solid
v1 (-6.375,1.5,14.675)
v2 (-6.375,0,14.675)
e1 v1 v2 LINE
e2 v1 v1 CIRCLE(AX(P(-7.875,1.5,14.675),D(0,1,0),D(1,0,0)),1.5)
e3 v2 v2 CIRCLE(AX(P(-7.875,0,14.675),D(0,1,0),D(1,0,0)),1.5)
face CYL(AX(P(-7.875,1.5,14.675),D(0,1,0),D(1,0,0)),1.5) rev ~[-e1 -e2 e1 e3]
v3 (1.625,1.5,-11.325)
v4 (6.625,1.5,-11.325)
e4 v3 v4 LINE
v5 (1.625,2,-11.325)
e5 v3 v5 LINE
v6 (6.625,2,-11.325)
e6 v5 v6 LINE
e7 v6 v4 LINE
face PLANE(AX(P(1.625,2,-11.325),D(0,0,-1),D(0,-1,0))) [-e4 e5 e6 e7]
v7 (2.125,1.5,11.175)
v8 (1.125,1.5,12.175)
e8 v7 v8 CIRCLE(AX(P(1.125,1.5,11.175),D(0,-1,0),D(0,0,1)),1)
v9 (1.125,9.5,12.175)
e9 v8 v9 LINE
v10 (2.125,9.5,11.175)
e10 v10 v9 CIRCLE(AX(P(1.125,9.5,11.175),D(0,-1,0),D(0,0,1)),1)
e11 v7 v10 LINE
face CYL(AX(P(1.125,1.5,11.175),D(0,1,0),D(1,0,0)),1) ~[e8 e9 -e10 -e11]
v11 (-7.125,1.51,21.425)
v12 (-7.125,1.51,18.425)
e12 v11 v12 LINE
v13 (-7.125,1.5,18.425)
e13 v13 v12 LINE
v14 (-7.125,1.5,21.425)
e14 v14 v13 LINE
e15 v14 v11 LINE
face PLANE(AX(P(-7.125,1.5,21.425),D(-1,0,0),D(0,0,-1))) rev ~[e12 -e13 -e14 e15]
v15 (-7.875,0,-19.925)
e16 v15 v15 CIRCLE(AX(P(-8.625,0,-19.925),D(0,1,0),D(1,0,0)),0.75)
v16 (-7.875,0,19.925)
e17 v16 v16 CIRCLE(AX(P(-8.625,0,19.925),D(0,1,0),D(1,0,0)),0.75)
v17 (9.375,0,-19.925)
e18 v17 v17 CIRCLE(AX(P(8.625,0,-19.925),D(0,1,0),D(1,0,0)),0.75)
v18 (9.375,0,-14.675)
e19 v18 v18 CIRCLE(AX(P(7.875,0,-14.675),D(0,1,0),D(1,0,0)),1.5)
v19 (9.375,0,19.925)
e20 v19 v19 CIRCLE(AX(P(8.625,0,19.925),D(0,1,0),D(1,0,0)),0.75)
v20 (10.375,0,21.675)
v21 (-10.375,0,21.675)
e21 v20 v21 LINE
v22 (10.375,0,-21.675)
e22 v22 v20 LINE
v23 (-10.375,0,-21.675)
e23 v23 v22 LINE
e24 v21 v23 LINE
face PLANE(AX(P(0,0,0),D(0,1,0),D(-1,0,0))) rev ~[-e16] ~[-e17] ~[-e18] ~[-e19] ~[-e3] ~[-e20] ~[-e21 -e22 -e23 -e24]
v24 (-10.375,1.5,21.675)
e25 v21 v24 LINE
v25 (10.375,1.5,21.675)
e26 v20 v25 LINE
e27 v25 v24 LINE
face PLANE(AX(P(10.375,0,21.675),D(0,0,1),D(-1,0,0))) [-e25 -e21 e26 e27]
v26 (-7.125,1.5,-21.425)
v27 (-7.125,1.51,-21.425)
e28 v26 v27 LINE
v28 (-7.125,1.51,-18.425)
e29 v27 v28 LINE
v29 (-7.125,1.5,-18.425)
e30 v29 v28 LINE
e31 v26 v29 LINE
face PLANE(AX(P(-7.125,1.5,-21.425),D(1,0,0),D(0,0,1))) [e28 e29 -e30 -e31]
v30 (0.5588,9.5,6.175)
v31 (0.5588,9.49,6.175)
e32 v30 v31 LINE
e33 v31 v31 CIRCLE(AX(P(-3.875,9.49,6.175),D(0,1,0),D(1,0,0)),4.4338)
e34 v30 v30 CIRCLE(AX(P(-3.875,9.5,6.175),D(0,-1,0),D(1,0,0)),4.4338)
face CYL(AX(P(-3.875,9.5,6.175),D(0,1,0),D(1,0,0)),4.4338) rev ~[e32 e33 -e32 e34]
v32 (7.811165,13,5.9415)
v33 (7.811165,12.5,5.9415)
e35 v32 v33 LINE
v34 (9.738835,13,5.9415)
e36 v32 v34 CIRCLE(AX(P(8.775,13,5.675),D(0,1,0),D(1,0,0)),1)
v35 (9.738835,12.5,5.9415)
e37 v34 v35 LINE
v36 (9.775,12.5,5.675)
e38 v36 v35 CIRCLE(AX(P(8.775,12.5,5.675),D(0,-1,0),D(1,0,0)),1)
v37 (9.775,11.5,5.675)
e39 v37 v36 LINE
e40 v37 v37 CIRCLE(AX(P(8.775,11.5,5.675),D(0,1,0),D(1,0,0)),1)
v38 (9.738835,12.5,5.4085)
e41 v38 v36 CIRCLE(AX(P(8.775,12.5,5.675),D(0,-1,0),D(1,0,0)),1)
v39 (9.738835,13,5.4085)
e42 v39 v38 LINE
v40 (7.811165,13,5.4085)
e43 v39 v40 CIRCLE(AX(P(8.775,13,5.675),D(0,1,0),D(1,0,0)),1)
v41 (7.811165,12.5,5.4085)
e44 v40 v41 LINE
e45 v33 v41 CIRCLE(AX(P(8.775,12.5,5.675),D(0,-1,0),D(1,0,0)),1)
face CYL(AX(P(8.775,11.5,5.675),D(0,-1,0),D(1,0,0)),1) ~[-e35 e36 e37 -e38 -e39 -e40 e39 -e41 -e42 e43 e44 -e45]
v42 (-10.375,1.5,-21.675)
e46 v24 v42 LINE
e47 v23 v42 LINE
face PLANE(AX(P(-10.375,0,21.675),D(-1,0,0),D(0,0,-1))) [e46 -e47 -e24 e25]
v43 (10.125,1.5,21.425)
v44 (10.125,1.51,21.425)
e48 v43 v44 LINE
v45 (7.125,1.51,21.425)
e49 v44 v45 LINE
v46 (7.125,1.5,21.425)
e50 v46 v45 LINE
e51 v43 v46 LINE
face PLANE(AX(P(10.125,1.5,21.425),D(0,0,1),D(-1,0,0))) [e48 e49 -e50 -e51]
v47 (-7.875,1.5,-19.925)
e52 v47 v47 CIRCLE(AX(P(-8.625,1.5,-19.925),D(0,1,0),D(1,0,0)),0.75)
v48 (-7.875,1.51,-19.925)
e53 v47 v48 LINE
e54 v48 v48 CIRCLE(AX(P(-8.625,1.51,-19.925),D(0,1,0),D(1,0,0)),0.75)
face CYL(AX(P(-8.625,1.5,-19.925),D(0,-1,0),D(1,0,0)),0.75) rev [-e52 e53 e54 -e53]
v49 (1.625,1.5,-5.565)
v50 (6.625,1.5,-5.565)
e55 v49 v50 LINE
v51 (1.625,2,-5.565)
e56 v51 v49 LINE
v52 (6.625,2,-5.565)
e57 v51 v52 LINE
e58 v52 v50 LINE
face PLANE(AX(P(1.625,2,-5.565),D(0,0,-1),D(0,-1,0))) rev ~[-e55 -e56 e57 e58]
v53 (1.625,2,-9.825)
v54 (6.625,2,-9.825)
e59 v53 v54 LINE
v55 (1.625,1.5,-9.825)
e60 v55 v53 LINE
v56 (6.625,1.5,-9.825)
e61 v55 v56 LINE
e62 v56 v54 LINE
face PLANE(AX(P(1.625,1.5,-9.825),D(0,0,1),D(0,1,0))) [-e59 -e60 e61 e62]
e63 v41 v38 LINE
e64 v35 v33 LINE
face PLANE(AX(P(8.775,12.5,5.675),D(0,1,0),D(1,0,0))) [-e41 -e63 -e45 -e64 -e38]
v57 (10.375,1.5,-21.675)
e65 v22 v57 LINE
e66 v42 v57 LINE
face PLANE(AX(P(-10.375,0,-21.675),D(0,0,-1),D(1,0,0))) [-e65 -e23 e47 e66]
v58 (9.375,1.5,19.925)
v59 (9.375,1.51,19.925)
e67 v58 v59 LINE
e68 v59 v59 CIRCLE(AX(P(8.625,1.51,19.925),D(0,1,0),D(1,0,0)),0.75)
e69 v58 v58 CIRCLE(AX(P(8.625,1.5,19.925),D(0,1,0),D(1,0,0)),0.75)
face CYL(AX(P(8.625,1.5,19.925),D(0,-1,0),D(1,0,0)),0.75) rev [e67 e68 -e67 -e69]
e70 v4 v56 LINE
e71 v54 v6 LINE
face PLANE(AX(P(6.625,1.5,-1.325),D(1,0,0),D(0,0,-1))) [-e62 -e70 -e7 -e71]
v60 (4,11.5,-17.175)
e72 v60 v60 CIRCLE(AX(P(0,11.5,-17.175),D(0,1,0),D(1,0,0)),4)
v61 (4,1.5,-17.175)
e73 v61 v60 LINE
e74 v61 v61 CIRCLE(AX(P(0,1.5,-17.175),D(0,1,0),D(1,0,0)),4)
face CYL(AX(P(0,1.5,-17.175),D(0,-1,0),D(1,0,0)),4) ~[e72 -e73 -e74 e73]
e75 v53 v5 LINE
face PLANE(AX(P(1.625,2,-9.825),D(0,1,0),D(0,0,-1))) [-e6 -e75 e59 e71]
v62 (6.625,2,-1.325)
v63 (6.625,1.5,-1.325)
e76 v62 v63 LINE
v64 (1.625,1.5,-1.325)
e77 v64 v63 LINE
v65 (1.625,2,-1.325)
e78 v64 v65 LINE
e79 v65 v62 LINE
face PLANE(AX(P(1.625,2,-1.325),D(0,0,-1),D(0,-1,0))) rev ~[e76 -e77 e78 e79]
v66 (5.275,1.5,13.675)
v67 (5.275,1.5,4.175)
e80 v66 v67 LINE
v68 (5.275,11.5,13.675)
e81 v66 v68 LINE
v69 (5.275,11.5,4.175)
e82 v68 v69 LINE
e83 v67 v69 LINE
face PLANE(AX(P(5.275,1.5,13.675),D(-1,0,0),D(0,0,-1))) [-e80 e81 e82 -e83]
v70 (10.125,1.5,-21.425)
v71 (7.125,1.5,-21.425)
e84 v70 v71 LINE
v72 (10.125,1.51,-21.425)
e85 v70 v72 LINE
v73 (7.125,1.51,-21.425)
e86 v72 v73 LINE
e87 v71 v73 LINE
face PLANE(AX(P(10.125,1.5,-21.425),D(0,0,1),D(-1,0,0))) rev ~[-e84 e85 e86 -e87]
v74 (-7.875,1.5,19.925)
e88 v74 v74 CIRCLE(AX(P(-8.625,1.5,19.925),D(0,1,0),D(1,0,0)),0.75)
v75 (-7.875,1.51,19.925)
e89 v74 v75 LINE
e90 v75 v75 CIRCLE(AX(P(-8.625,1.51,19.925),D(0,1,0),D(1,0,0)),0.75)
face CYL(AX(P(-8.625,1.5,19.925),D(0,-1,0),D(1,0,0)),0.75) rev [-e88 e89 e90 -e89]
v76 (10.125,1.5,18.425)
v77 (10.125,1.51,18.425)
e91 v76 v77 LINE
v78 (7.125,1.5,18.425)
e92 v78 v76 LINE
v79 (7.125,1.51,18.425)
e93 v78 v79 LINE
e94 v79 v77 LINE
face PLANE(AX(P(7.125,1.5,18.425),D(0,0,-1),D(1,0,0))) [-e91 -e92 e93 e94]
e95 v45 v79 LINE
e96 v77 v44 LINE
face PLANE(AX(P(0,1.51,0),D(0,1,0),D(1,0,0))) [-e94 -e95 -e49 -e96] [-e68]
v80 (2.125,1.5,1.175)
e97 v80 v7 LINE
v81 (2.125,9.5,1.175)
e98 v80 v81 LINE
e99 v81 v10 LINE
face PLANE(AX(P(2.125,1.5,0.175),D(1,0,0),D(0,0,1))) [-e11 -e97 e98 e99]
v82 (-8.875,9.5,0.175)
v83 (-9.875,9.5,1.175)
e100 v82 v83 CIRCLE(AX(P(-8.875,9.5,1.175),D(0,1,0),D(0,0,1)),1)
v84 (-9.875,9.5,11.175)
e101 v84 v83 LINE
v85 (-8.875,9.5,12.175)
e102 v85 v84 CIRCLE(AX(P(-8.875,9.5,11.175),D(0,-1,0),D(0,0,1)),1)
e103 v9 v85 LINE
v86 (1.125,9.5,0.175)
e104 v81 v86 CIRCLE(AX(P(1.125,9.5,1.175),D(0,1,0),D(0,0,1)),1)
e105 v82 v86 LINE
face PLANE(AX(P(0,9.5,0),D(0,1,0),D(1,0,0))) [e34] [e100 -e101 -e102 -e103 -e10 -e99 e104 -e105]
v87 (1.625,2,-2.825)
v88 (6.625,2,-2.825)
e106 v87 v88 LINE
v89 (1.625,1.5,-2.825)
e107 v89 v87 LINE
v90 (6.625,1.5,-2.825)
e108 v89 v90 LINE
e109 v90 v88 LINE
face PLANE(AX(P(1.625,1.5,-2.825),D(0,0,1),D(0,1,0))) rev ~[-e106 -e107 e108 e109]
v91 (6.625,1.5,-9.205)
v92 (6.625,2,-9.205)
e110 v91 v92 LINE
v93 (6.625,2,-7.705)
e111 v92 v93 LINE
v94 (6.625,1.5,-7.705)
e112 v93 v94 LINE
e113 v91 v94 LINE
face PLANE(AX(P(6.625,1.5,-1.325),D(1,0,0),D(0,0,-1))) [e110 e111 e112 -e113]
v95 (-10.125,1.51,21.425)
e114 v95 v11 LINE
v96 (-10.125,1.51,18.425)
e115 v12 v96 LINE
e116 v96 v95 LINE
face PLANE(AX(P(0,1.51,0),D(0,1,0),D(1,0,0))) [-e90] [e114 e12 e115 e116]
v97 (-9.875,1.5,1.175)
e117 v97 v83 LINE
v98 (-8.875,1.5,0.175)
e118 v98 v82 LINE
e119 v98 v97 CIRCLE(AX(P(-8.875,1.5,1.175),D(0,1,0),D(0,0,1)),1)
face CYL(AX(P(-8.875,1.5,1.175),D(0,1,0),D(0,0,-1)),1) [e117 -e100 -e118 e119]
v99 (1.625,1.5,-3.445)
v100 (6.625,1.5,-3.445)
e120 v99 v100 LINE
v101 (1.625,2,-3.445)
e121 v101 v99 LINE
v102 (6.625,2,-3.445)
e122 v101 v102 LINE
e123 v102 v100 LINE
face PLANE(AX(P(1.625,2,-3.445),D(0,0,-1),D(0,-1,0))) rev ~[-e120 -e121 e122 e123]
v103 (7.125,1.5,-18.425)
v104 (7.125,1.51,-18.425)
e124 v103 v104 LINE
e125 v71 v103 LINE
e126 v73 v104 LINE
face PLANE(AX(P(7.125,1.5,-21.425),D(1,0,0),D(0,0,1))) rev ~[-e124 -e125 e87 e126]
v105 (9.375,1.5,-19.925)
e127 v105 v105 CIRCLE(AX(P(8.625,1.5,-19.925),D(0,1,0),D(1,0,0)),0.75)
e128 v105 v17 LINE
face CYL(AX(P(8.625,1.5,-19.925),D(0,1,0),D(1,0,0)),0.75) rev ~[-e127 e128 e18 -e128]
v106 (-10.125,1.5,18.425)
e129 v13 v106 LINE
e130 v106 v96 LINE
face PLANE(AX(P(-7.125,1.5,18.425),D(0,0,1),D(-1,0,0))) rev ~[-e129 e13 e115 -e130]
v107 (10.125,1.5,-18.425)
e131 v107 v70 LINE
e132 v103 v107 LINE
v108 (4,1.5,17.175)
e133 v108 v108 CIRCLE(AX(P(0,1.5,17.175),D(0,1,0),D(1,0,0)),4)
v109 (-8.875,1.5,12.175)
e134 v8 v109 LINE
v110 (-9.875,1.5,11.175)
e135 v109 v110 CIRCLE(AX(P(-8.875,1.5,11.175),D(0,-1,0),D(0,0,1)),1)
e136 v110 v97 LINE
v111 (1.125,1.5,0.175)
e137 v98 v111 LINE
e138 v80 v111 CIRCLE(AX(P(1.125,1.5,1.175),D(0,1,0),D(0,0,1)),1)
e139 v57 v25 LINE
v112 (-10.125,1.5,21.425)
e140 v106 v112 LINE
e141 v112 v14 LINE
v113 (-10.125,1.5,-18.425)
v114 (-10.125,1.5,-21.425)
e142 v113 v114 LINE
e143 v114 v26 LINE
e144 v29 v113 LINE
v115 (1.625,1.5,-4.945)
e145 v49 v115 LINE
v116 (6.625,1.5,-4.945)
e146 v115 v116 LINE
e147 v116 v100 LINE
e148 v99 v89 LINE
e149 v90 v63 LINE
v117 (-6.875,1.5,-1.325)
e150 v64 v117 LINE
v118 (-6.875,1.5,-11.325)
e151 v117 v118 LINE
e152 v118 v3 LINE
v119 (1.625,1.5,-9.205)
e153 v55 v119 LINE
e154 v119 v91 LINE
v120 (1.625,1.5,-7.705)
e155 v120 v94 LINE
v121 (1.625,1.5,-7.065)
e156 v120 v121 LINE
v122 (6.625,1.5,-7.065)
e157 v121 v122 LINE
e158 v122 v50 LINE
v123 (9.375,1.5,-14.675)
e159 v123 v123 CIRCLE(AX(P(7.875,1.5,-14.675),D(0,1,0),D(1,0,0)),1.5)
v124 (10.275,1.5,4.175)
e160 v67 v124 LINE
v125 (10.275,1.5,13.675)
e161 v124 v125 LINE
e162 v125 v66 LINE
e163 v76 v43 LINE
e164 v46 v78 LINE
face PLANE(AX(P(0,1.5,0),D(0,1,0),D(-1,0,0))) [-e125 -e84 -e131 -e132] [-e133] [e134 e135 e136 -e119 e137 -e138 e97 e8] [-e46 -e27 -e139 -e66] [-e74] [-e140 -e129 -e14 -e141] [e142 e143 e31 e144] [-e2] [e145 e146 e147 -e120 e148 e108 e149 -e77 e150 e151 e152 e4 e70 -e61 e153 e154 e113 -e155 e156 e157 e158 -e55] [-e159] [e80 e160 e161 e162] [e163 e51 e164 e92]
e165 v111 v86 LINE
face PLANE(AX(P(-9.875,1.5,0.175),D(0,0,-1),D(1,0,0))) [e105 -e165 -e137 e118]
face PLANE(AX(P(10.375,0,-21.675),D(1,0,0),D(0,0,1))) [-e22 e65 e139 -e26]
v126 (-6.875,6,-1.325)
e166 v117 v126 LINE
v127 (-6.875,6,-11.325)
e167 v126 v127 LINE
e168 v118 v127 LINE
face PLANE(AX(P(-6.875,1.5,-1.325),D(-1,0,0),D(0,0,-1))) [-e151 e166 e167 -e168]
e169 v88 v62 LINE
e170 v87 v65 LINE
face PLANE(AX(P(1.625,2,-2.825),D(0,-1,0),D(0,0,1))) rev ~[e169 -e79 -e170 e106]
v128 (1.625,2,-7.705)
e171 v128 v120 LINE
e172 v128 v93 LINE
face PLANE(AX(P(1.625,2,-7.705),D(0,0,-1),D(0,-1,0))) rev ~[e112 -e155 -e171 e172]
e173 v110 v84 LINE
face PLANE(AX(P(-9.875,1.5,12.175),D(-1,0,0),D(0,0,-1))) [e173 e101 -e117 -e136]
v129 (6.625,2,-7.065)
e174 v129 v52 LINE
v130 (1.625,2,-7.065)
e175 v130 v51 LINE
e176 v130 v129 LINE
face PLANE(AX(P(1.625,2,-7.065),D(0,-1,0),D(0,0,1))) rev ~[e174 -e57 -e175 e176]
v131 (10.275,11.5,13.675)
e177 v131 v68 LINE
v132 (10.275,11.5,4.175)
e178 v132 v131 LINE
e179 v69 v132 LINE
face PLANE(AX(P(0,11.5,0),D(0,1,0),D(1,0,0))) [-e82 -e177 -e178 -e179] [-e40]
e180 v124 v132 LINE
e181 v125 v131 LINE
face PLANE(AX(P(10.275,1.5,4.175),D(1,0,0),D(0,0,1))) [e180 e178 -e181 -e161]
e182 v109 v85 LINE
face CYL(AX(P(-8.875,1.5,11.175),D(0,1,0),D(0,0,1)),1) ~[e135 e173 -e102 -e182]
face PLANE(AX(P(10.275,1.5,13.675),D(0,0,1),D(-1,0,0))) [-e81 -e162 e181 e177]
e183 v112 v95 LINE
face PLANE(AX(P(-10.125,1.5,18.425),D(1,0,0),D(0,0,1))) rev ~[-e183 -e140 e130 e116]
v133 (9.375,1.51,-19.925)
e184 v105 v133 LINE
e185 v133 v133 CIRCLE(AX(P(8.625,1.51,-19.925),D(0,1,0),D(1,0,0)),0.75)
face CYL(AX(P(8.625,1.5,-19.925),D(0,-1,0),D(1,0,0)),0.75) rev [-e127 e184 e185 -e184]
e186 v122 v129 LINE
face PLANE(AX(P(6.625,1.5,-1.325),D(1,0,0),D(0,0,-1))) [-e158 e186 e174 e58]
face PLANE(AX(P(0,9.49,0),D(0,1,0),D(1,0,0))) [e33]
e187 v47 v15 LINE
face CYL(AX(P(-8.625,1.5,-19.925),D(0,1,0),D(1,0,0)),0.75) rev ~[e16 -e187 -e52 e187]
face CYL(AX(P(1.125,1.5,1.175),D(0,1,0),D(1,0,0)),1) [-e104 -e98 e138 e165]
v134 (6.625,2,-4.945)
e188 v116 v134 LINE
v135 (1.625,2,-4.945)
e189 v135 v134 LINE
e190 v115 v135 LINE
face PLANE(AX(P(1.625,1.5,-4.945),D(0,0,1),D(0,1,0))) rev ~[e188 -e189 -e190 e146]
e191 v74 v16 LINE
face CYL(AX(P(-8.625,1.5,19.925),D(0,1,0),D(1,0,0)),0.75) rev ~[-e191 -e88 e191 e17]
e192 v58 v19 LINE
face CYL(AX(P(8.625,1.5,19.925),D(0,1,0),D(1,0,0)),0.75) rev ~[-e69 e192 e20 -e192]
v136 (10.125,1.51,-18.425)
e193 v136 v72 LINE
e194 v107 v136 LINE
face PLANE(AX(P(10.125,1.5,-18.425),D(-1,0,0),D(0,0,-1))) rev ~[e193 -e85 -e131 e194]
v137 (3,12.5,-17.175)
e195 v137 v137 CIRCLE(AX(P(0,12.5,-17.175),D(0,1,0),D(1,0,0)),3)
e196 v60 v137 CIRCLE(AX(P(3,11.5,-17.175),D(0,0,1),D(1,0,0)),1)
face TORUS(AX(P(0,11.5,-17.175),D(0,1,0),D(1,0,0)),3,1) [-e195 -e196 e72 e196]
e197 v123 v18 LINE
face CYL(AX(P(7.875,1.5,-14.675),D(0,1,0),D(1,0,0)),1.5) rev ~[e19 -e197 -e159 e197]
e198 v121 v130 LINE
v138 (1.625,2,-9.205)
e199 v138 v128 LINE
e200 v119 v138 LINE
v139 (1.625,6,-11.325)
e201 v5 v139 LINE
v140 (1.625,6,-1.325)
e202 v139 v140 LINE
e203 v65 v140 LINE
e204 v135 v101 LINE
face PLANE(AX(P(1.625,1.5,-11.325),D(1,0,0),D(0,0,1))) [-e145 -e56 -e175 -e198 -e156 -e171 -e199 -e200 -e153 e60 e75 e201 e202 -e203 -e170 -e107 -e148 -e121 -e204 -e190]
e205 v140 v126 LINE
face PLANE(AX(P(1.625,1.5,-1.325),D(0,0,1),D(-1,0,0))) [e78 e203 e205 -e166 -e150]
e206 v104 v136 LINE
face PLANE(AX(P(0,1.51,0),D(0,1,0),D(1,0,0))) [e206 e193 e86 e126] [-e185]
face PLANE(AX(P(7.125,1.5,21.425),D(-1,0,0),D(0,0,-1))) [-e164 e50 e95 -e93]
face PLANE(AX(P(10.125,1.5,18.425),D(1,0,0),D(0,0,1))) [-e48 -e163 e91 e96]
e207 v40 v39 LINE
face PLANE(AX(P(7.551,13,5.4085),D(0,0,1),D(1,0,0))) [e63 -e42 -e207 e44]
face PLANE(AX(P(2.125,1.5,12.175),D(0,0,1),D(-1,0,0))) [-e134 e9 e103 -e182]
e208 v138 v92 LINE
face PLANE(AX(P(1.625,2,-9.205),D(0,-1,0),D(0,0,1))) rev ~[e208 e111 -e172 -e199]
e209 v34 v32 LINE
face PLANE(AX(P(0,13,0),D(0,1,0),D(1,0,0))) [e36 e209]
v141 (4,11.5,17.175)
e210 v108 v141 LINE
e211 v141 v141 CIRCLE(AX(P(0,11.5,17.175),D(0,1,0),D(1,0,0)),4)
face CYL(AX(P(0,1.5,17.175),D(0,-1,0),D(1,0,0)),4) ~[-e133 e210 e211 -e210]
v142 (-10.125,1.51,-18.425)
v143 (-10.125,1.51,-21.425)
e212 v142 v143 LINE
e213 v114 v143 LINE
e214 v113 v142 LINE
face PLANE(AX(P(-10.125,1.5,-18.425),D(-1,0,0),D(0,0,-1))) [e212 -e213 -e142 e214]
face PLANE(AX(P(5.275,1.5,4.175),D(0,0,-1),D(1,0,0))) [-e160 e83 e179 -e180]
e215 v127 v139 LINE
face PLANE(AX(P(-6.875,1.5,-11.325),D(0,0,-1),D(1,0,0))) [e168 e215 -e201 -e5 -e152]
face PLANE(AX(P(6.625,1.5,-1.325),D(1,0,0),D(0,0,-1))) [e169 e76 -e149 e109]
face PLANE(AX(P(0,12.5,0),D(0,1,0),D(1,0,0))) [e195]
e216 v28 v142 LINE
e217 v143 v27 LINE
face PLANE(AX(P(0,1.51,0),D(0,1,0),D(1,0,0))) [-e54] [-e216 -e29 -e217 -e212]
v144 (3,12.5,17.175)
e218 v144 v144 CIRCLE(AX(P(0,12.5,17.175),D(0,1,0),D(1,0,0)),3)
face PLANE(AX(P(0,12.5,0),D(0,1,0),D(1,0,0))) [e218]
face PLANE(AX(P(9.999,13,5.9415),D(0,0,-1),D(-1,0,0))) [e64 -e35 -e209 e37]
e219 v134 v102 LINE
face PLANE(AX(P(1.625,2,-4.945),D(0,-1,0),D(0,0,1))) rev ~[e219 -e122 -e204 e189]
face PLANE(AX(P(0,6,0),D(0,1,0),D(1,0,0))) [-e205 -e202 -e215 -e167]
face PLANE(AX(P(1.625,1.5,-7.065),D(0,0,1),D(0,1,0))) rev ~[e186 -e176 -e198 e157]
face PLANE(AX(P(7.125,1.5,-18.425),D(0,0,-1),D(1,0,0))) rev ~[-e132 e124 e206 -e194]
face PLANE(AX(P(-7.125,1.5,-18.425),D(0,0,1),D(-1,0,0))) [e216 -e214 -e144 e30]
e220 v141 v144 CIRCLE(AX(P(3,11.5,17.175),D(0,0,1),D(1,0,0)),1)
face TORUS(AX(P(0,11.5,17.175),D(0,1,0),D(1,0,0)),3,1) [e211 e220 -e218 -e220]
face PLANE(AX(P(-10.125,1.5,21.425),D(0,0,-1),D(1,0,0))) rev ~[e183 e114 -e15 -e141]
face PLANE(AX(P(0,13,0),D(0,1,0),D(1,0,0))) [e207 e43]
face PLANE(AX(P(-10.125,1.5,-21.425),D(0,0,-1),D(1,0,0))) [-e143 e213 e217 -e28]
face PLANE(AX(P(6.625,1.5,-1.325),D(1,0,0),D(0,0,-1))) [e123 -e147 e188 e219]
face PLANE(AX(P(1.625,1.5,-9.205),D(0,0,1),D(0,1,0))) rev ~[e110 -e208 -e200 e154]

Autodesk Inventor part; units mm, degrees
ref_plane "YZ Plane" through (0, 0, 0) normal (1, 0, 0) x (0, 1, 0)
ref_plane "XZ Plane" through (0, 0, 0) normal (0, 1, 0) x (-1, 0, 0)
ref_plane "XY Plane" through (0, 0, 0) normal (0, 0, 1) x (1, 0, 0)
sketch "Sketch1" plane through (0, 0, 0) normal (0, 1, 0) x (-1, 0, 0)
  line L0 (-10.375, 21.675) -> (10.375, 21.675)
  line L1 (10.375, 21.675) -> (10.375, -21.675)
  line L2 (10.375, -21.675) -> (-10.375, -21.675)
  line L3 (-10.375, -21.675) -> (-10.375, 21.675)
  line L4 (-10.375, 21.675) -> (10.375, -21.675) construction
  line L5 (10.375, 21.675) -> (-10.375, -21.675) construction
  point P0 (0, 0)
  dimension "d0" = 20.75
  dimension "d1" = 43.35
extrude "Extrusion1" add sketch "Sketch1" along normal blind 1.5
sketch "Sketch2" plane through (0, 1.5, 0) normal (0, 1, 0) x (1, 0, 0)
  circle A0 centre (-8.625, -19.925) radius 0.75
  circle A1 centre (-8.625, 19.925) radius 0.75
  circle A2 centre (8.625, -19.925) radius 0.75
  circle A3 centre (8.625, 19.925) radius 0.75
  line L0 (-10.375, -21.675) -> (10.375, -21.675) projected
  line L1 (10.375, -21.675) -> (10.375, 21.675) projected
  line L2 (-10.375, 21.675) -> (-10.375, -21.675) projected
  line L3 (10.375, 21.675) -> (-10.375, 21.675) projected
  point P0 (0, 0)
  dimension "d4" = 1.5
  dimension "d5" = 1.5
  dimension "d6" = 1.5
  dimension "d7" = 1.5
  dimension "d8" = 1.75
  dimension "d9" = 1.75
  dimension "d10" = 1.75
  dimension "d11" = 1.75
  dimension "d12" = 1.75
  dimension "d13" = 1.75
  dimension "d14" = 1.75
  dimension "d15" = 1.75
extrude "Extrusion2" cut sketch "Sketch2" against normal up to next contours A0 | A1 | A2 | A3
sketch "Sketch3" plane through (0, 1.5, 0) normal (0, 1, 0) x (1, 0, 0)
  circle A0 centre (7.875, 14.675) radius 1.5
  circle A1 centre (-7.875, -14.675) radius 1.5
  line L0 (-10.375, 21.675) -> (-10.375, -21.675) projected
  line L1 (10.375, 21.675) -> (10.375, -21.675) projected
  line L2 (10.375, 21.675) -> (-10.375, 21.675) projected
  line L3 (-10.375, -21.675) -> (10.375, -21.675) projected
  point P0 (0, 0)
  dimension "d18" = 3
  dimension "d19" = 3
  dimension "d20" = 2.5
  dimension "d21" = 2.5
  dimension "d22" = 7
  dimension "d23" = 7
extrude "Extrusion3" cut sketch "Sketch3" against normal up to next contours A0 | A1
sketch "Sketch4" plane through (0, 1.5, 0) normal (0, 1, 0) x (1, 0, 0)
  line L0 (-7.125, -18.425) -> (-10.125, -18.425)
  line L1 (-10.125, -18.425) -> (-10.125, -21.425)
  line L2 (-10.125, -21.425) -> (-7.125, -21.425)
  line L3 (-7.125, -21.425) -> (-7.125, -18.425)
  circle A0 centre (-8.625, -19.925) radius 0.75 projected
  line L4 (-7.125, -18.425) -> (-10.125, -21.425) construction
  line L5 (-10.125, -18.425) -> (-7.125, -21.425) construction
  line L6 (10.125, -21.425) -> (7.125, -21.425)
  line L7 (7.125, -21.425) -> (7.125, -18.425)
  line L8 (7.125, -18.425) -> (10.125, -18.425)
  line L9 (10.125, -18.425) -> (10.125, -21.425)
  circle A1 centre (8.625, -19.925) radius 0.75 projected
  line L10 (10.125, -21.425) -> (7.125, -18.425) construction
  line L11 (7.125, -21.425) -> (10.125, -18.425) construction
  line L12 (7.125, 18.425) -> (10.125, 18.425)
  line L13 (10.125, 18.425) -> (10.125, 21.425)
  line L14 (10.125, 21.425) -> (7.125, 21.425)
  line L15 (7.125, 21.425) -> (7.125, 18.425)
  circle A2 centre (8.625, 19.925) radius 0.75 projected
  line L16 (7.125, 18.425) -> (10.125, 21.425) construction
  line L17 (10.125, 18.425) -> (7.125, 21.425) construction
  line L18 (-10.125, 21.425) -> (-7.125, 21.425)
  line L19 (-7.125, 21.425) -> (-7.125, 18.425)
  line L20 (-7.125, 18.425) -> (-10.125, 18.425)
  line L21 (-10.125, 18.425) -> (-10.125, 21.425)
  circle A3 centre (-8.625, 19.925) radius 0.75 projected
  line L22 (-10.125, 21.425) -> (-7.125, 18.425) construction
  line L23 (-7.125, 21.425) -> (-10.125, 18.425) construction
  circle A4 centre (-8.625, -19.925) radius 0.75
  circle A5 centre (8.625, -19.925) radius 0.75
  circle A6 centre (-8.625, 19.925) radius 0.75
  circle A7 centre (8.625, 19.925) radius 0.75
  point P0 (0, 0)
  dimension "d26" = 3
  dimension "d27" = 3
  dimension "d28" = 3
  dimension "d29" = 3
  dimension "d30" = 3
  dimension "d31" = 3
  dimension "d32" = 3
  dimension "d33" = 3
extrude "Extrusion4" add sketch "Sketch4" along normal blind 0.01
sketch "Sketch5" plane through (0, 1.5, 0) normal (0, 1, 0) x (1, 0, 0)
  circle A0 centre (0, 17.175) radius 4
  line L0 (10.375, 21.675) -> (-10.375, 21.675) projected
  point P0 (0, 0)
  dimension "d36" = 8
  dimension "d37" = 4.5
extrude "Extrusion5" add sketch "Sketch5" along normal blind 11
sketch "Sketch6" plane through (0, 1.5, 0) normal (0, 1, 0) x (1, 0, 0)
  circle A0 centre (0, -17.175) radius 4
  line L0 (-10.375, -21.675) -> (10.375, -21.675) projected
  point P0 (0, 0)
  dimension "d40" = 8
  dimension "d41" = 4.5
extrude "Extrusion6" add sketch "Sketch6" along normal blind 11
sketch "Sketch7" plane through (0, 1.5, 0) normal (0, 1, 0) x (1, 0, 0)
  line L0 (2.125, -12.175) -> (-9.875, -12.175)
  line L1 (-9.875, -12.175) -> (-9.875, -0.175)
  line L2 (-9.875, -0.175) -> (2.125, -0.175)
  line L3 (2.125, -0.175) -> (2.125, -12.175)
  line L4 (2.125, -12.175) -> (-9.875, -0.175) construction
  line L5 (-9.875, -12.175) -> (2.125, -0.175) construction
  line L6 (-10.375, 21.675) -> (-10.375, -21.675) projected
  circle A0 centre (0, -17.175) radius 4 projected
  point P0 (0, 0)
  point P1 (-3.875, -6.175)
  dimension "d44" = 12
  dimension "d45" = 12
  dimension "d46" = 0.5
  dimension "d47" = 5
extrude "Extrusion7" add sketch "Sketch7" along normal blind 8 contours L0 L1 L2 L3
sketch "Sketch8" plane through (0, 9.5, 0) normal (0, 1, 0) x (1, 0, 0)
  line L0 (2.125, -12.175) -> (-9.875, -12.175) projected
  line L1 (-9.875, -12.175) -> (2.125, -0.175)
  circle A0 centre (-3.875, -6.175) radius 4.4338
  point P0 (0, 0)
extrude "Extrusion8" cut sketch "Sketch8" against normal blind 0.01
sketch "Sketch9" plane through (0, 1.5, 0) normal (0, 1, 0) x (1, 0, 0)
  line L0 (10.275, -13.675) -> (5.275, -13.675)
  line L1 (5.275, -13.675) -> (5.275, -4.175)
  line L2 (5.275, -4.175) -> (10.275, -4.175)
  line L3 (10.275, -4.175) -> (10.275, -13.675)
  line L4 (10.275, -13.675) -> (5.275, -4.175) construction
  line L5 (5.275, -13.675) -> (10.275, -4.175) construction
  line L6 (-10.375, -21.675) -> (10.375, -21.675) projected
  line L7 (10.375, 21.675) -> (10.375, -21.675) projected
  point P0 (0, 0)
  point P1 (7.775, -8.925)
  dimension "d52" = 5
  dimension "d53" = 9.5
  dimension "d54" = 8
  dimension "d55" = 0.1
extrude "Extrusion9" add sketch "Sketch9" along normal blind 10
sketch "Sketch10" plane through (0, 11.5, 0) normal (0, 1, 0) x (1, 0, 0)
  circle A0 centre (8.775, -5.675) radius 1
  line L0 (10.275, -4.175) -> (5.275, -4.175) projected
  line L1 (10.275, -13.675) -> (10.275, -4.175) projected
  point P0 (0, 0)
  dimension "d58" = 2
  dimension "d59" = 1.5
  dimension "d60" = 1.5
extrude "Extrusion10" add sketch "Sketch10" along normal blind 1.5
sketch "Sketch11" plane through (8.775, 13, 5.675) normal (0, 1, 0) x (1, 0, 0)
  line L0 (1.224, -0.2665) -> (-1.224, -0.2665)
  line L1 (-1.224, -0.2665) -> (-1.224, 0.2665)
  line L2 (-1.224, 0.2665) -> (1.224, 0.2665)
  line L3 (1.224, 0.2665) -> (1.224, -0.2665)
  line L4 (1.224, -0.2665) -> (-1.224, 0.2665) construction
  line L5 (-1.224, -0.2665) -> (1.224, 0.2665) construction
  point P0 (-8.775, 5.675)
  point P1 (0, 0)
extrude "Extrusion11" cut sketch "Sketch11" against normal blind 0.5
sketch "Sketch12" plane through (0, 1.5, 0) normal (0, 1, 0) x (1, 0, 0)
  line L0 (1.625, 1.325) -> (-6.875, 1.325)
  line L1 (-6.875, 1.325) -> (-6.875, 11.325)
  line L2 (-6.875, 11.325) -> (1.625, 11.325)
  line L3 (1.625, 11.325) -> (1.625, 1.325)
  line L4 (1.625, 1.325) -> (-6.875, 11.325) construction
  line L5 (-6.875, 1.325) -> (1.625, 11.325) construction
  line L6 (-10.375, 21.675) -> (-10.375, -21.675) projected
  line L7 (2.125, -0.175) -> (-9.875, -0.175) projected
  point P0 (0, 0)
  point P1 (-2.625, 6.325)
  dimension "d65" = 8.5
  dimension "d66" = 10
  dimension "d67" = 3.5
  dimension "d68" = 1.5
extrude "Extrusion12" add sketch "Sketch12" along normal blind 4.5
sketch "Sketch13" plane through (1.625, 1.5, -1.325) normal (1, 0, 0) x (0, 0, -1)
  line L0 (10, 0) -> (0, 0) projected
  line L1 (0, 0) -> (1.5, 0)
  line L2 (1.5, 0) -> (1.5, 0.5)
  line L3 (1.5, 0.5) -> (0, 0.5)
  line L4 (0, 0.5) -> (0, 0)
  line L5 (10, 0) -> (8.5, 0)
  line L6 (8.5, 0) -> (8.5, 0.5)
  line L7 (8.5, 0.5) -> (10, 0.5)
  line L8 (10, 0.5) -> (10, 0)
  line L9 (2.12, 0) -> (3.62, 0)
  line L10 (3.62, 0) -> (3.62, 0.5)
  line L11 (3.62, 0.5) -> (2.12, 0.5)
  line L12 (2.12, 0.5) -> (2.12, 0)
  line L13 (6.38, 0) -> (7.88, 0)
  line L14 (7.88, 0) -> (7.88, 0.5)
  line L15 (7.88, 0.5) -> (6.38, 0.5)
  line L16 (6.38, 0.5) -> (6.38, 0)
  line L17 (4.24, 0) -> (5.74, 0)
  line L18 (5.74, 0) -> (5.74, 0.5)
  line L19 (5.74, 0.5) -> (4.24, 0.5)
  line L20 (4.24, 0.5) -> (4.24, 0)
  point P0 (-1.325, -1.5)
  dimension "d71" = 1.5
  dimension "d72" = 0.5
  dimension "d73" = 1.5
  dimension "d74" = 0.5
  dimension "d75" = 1.5
  dimension "d76" = 1.5
  dimension "d77" = 0.5
  dimension "d78" = 0.62
  dimension "d79" = 0.62
  dimension "d80" = 1.5
  dimension "d81" = 0.62
extrude "Extrusion13" add sketch "Sketch13" along normal blind 5
fillet "Fillet1" radius 1 6 edges at (2.125, 5.5, 12.175) (2.125, 5.5, 0.175) (-9.875, 5.5, 12.175) (-9.875, 5.5, 0.175) (-4, 12.5, 17.175) (-4, 12.5, -17.175)
properties part number "pcb_with_elements"
